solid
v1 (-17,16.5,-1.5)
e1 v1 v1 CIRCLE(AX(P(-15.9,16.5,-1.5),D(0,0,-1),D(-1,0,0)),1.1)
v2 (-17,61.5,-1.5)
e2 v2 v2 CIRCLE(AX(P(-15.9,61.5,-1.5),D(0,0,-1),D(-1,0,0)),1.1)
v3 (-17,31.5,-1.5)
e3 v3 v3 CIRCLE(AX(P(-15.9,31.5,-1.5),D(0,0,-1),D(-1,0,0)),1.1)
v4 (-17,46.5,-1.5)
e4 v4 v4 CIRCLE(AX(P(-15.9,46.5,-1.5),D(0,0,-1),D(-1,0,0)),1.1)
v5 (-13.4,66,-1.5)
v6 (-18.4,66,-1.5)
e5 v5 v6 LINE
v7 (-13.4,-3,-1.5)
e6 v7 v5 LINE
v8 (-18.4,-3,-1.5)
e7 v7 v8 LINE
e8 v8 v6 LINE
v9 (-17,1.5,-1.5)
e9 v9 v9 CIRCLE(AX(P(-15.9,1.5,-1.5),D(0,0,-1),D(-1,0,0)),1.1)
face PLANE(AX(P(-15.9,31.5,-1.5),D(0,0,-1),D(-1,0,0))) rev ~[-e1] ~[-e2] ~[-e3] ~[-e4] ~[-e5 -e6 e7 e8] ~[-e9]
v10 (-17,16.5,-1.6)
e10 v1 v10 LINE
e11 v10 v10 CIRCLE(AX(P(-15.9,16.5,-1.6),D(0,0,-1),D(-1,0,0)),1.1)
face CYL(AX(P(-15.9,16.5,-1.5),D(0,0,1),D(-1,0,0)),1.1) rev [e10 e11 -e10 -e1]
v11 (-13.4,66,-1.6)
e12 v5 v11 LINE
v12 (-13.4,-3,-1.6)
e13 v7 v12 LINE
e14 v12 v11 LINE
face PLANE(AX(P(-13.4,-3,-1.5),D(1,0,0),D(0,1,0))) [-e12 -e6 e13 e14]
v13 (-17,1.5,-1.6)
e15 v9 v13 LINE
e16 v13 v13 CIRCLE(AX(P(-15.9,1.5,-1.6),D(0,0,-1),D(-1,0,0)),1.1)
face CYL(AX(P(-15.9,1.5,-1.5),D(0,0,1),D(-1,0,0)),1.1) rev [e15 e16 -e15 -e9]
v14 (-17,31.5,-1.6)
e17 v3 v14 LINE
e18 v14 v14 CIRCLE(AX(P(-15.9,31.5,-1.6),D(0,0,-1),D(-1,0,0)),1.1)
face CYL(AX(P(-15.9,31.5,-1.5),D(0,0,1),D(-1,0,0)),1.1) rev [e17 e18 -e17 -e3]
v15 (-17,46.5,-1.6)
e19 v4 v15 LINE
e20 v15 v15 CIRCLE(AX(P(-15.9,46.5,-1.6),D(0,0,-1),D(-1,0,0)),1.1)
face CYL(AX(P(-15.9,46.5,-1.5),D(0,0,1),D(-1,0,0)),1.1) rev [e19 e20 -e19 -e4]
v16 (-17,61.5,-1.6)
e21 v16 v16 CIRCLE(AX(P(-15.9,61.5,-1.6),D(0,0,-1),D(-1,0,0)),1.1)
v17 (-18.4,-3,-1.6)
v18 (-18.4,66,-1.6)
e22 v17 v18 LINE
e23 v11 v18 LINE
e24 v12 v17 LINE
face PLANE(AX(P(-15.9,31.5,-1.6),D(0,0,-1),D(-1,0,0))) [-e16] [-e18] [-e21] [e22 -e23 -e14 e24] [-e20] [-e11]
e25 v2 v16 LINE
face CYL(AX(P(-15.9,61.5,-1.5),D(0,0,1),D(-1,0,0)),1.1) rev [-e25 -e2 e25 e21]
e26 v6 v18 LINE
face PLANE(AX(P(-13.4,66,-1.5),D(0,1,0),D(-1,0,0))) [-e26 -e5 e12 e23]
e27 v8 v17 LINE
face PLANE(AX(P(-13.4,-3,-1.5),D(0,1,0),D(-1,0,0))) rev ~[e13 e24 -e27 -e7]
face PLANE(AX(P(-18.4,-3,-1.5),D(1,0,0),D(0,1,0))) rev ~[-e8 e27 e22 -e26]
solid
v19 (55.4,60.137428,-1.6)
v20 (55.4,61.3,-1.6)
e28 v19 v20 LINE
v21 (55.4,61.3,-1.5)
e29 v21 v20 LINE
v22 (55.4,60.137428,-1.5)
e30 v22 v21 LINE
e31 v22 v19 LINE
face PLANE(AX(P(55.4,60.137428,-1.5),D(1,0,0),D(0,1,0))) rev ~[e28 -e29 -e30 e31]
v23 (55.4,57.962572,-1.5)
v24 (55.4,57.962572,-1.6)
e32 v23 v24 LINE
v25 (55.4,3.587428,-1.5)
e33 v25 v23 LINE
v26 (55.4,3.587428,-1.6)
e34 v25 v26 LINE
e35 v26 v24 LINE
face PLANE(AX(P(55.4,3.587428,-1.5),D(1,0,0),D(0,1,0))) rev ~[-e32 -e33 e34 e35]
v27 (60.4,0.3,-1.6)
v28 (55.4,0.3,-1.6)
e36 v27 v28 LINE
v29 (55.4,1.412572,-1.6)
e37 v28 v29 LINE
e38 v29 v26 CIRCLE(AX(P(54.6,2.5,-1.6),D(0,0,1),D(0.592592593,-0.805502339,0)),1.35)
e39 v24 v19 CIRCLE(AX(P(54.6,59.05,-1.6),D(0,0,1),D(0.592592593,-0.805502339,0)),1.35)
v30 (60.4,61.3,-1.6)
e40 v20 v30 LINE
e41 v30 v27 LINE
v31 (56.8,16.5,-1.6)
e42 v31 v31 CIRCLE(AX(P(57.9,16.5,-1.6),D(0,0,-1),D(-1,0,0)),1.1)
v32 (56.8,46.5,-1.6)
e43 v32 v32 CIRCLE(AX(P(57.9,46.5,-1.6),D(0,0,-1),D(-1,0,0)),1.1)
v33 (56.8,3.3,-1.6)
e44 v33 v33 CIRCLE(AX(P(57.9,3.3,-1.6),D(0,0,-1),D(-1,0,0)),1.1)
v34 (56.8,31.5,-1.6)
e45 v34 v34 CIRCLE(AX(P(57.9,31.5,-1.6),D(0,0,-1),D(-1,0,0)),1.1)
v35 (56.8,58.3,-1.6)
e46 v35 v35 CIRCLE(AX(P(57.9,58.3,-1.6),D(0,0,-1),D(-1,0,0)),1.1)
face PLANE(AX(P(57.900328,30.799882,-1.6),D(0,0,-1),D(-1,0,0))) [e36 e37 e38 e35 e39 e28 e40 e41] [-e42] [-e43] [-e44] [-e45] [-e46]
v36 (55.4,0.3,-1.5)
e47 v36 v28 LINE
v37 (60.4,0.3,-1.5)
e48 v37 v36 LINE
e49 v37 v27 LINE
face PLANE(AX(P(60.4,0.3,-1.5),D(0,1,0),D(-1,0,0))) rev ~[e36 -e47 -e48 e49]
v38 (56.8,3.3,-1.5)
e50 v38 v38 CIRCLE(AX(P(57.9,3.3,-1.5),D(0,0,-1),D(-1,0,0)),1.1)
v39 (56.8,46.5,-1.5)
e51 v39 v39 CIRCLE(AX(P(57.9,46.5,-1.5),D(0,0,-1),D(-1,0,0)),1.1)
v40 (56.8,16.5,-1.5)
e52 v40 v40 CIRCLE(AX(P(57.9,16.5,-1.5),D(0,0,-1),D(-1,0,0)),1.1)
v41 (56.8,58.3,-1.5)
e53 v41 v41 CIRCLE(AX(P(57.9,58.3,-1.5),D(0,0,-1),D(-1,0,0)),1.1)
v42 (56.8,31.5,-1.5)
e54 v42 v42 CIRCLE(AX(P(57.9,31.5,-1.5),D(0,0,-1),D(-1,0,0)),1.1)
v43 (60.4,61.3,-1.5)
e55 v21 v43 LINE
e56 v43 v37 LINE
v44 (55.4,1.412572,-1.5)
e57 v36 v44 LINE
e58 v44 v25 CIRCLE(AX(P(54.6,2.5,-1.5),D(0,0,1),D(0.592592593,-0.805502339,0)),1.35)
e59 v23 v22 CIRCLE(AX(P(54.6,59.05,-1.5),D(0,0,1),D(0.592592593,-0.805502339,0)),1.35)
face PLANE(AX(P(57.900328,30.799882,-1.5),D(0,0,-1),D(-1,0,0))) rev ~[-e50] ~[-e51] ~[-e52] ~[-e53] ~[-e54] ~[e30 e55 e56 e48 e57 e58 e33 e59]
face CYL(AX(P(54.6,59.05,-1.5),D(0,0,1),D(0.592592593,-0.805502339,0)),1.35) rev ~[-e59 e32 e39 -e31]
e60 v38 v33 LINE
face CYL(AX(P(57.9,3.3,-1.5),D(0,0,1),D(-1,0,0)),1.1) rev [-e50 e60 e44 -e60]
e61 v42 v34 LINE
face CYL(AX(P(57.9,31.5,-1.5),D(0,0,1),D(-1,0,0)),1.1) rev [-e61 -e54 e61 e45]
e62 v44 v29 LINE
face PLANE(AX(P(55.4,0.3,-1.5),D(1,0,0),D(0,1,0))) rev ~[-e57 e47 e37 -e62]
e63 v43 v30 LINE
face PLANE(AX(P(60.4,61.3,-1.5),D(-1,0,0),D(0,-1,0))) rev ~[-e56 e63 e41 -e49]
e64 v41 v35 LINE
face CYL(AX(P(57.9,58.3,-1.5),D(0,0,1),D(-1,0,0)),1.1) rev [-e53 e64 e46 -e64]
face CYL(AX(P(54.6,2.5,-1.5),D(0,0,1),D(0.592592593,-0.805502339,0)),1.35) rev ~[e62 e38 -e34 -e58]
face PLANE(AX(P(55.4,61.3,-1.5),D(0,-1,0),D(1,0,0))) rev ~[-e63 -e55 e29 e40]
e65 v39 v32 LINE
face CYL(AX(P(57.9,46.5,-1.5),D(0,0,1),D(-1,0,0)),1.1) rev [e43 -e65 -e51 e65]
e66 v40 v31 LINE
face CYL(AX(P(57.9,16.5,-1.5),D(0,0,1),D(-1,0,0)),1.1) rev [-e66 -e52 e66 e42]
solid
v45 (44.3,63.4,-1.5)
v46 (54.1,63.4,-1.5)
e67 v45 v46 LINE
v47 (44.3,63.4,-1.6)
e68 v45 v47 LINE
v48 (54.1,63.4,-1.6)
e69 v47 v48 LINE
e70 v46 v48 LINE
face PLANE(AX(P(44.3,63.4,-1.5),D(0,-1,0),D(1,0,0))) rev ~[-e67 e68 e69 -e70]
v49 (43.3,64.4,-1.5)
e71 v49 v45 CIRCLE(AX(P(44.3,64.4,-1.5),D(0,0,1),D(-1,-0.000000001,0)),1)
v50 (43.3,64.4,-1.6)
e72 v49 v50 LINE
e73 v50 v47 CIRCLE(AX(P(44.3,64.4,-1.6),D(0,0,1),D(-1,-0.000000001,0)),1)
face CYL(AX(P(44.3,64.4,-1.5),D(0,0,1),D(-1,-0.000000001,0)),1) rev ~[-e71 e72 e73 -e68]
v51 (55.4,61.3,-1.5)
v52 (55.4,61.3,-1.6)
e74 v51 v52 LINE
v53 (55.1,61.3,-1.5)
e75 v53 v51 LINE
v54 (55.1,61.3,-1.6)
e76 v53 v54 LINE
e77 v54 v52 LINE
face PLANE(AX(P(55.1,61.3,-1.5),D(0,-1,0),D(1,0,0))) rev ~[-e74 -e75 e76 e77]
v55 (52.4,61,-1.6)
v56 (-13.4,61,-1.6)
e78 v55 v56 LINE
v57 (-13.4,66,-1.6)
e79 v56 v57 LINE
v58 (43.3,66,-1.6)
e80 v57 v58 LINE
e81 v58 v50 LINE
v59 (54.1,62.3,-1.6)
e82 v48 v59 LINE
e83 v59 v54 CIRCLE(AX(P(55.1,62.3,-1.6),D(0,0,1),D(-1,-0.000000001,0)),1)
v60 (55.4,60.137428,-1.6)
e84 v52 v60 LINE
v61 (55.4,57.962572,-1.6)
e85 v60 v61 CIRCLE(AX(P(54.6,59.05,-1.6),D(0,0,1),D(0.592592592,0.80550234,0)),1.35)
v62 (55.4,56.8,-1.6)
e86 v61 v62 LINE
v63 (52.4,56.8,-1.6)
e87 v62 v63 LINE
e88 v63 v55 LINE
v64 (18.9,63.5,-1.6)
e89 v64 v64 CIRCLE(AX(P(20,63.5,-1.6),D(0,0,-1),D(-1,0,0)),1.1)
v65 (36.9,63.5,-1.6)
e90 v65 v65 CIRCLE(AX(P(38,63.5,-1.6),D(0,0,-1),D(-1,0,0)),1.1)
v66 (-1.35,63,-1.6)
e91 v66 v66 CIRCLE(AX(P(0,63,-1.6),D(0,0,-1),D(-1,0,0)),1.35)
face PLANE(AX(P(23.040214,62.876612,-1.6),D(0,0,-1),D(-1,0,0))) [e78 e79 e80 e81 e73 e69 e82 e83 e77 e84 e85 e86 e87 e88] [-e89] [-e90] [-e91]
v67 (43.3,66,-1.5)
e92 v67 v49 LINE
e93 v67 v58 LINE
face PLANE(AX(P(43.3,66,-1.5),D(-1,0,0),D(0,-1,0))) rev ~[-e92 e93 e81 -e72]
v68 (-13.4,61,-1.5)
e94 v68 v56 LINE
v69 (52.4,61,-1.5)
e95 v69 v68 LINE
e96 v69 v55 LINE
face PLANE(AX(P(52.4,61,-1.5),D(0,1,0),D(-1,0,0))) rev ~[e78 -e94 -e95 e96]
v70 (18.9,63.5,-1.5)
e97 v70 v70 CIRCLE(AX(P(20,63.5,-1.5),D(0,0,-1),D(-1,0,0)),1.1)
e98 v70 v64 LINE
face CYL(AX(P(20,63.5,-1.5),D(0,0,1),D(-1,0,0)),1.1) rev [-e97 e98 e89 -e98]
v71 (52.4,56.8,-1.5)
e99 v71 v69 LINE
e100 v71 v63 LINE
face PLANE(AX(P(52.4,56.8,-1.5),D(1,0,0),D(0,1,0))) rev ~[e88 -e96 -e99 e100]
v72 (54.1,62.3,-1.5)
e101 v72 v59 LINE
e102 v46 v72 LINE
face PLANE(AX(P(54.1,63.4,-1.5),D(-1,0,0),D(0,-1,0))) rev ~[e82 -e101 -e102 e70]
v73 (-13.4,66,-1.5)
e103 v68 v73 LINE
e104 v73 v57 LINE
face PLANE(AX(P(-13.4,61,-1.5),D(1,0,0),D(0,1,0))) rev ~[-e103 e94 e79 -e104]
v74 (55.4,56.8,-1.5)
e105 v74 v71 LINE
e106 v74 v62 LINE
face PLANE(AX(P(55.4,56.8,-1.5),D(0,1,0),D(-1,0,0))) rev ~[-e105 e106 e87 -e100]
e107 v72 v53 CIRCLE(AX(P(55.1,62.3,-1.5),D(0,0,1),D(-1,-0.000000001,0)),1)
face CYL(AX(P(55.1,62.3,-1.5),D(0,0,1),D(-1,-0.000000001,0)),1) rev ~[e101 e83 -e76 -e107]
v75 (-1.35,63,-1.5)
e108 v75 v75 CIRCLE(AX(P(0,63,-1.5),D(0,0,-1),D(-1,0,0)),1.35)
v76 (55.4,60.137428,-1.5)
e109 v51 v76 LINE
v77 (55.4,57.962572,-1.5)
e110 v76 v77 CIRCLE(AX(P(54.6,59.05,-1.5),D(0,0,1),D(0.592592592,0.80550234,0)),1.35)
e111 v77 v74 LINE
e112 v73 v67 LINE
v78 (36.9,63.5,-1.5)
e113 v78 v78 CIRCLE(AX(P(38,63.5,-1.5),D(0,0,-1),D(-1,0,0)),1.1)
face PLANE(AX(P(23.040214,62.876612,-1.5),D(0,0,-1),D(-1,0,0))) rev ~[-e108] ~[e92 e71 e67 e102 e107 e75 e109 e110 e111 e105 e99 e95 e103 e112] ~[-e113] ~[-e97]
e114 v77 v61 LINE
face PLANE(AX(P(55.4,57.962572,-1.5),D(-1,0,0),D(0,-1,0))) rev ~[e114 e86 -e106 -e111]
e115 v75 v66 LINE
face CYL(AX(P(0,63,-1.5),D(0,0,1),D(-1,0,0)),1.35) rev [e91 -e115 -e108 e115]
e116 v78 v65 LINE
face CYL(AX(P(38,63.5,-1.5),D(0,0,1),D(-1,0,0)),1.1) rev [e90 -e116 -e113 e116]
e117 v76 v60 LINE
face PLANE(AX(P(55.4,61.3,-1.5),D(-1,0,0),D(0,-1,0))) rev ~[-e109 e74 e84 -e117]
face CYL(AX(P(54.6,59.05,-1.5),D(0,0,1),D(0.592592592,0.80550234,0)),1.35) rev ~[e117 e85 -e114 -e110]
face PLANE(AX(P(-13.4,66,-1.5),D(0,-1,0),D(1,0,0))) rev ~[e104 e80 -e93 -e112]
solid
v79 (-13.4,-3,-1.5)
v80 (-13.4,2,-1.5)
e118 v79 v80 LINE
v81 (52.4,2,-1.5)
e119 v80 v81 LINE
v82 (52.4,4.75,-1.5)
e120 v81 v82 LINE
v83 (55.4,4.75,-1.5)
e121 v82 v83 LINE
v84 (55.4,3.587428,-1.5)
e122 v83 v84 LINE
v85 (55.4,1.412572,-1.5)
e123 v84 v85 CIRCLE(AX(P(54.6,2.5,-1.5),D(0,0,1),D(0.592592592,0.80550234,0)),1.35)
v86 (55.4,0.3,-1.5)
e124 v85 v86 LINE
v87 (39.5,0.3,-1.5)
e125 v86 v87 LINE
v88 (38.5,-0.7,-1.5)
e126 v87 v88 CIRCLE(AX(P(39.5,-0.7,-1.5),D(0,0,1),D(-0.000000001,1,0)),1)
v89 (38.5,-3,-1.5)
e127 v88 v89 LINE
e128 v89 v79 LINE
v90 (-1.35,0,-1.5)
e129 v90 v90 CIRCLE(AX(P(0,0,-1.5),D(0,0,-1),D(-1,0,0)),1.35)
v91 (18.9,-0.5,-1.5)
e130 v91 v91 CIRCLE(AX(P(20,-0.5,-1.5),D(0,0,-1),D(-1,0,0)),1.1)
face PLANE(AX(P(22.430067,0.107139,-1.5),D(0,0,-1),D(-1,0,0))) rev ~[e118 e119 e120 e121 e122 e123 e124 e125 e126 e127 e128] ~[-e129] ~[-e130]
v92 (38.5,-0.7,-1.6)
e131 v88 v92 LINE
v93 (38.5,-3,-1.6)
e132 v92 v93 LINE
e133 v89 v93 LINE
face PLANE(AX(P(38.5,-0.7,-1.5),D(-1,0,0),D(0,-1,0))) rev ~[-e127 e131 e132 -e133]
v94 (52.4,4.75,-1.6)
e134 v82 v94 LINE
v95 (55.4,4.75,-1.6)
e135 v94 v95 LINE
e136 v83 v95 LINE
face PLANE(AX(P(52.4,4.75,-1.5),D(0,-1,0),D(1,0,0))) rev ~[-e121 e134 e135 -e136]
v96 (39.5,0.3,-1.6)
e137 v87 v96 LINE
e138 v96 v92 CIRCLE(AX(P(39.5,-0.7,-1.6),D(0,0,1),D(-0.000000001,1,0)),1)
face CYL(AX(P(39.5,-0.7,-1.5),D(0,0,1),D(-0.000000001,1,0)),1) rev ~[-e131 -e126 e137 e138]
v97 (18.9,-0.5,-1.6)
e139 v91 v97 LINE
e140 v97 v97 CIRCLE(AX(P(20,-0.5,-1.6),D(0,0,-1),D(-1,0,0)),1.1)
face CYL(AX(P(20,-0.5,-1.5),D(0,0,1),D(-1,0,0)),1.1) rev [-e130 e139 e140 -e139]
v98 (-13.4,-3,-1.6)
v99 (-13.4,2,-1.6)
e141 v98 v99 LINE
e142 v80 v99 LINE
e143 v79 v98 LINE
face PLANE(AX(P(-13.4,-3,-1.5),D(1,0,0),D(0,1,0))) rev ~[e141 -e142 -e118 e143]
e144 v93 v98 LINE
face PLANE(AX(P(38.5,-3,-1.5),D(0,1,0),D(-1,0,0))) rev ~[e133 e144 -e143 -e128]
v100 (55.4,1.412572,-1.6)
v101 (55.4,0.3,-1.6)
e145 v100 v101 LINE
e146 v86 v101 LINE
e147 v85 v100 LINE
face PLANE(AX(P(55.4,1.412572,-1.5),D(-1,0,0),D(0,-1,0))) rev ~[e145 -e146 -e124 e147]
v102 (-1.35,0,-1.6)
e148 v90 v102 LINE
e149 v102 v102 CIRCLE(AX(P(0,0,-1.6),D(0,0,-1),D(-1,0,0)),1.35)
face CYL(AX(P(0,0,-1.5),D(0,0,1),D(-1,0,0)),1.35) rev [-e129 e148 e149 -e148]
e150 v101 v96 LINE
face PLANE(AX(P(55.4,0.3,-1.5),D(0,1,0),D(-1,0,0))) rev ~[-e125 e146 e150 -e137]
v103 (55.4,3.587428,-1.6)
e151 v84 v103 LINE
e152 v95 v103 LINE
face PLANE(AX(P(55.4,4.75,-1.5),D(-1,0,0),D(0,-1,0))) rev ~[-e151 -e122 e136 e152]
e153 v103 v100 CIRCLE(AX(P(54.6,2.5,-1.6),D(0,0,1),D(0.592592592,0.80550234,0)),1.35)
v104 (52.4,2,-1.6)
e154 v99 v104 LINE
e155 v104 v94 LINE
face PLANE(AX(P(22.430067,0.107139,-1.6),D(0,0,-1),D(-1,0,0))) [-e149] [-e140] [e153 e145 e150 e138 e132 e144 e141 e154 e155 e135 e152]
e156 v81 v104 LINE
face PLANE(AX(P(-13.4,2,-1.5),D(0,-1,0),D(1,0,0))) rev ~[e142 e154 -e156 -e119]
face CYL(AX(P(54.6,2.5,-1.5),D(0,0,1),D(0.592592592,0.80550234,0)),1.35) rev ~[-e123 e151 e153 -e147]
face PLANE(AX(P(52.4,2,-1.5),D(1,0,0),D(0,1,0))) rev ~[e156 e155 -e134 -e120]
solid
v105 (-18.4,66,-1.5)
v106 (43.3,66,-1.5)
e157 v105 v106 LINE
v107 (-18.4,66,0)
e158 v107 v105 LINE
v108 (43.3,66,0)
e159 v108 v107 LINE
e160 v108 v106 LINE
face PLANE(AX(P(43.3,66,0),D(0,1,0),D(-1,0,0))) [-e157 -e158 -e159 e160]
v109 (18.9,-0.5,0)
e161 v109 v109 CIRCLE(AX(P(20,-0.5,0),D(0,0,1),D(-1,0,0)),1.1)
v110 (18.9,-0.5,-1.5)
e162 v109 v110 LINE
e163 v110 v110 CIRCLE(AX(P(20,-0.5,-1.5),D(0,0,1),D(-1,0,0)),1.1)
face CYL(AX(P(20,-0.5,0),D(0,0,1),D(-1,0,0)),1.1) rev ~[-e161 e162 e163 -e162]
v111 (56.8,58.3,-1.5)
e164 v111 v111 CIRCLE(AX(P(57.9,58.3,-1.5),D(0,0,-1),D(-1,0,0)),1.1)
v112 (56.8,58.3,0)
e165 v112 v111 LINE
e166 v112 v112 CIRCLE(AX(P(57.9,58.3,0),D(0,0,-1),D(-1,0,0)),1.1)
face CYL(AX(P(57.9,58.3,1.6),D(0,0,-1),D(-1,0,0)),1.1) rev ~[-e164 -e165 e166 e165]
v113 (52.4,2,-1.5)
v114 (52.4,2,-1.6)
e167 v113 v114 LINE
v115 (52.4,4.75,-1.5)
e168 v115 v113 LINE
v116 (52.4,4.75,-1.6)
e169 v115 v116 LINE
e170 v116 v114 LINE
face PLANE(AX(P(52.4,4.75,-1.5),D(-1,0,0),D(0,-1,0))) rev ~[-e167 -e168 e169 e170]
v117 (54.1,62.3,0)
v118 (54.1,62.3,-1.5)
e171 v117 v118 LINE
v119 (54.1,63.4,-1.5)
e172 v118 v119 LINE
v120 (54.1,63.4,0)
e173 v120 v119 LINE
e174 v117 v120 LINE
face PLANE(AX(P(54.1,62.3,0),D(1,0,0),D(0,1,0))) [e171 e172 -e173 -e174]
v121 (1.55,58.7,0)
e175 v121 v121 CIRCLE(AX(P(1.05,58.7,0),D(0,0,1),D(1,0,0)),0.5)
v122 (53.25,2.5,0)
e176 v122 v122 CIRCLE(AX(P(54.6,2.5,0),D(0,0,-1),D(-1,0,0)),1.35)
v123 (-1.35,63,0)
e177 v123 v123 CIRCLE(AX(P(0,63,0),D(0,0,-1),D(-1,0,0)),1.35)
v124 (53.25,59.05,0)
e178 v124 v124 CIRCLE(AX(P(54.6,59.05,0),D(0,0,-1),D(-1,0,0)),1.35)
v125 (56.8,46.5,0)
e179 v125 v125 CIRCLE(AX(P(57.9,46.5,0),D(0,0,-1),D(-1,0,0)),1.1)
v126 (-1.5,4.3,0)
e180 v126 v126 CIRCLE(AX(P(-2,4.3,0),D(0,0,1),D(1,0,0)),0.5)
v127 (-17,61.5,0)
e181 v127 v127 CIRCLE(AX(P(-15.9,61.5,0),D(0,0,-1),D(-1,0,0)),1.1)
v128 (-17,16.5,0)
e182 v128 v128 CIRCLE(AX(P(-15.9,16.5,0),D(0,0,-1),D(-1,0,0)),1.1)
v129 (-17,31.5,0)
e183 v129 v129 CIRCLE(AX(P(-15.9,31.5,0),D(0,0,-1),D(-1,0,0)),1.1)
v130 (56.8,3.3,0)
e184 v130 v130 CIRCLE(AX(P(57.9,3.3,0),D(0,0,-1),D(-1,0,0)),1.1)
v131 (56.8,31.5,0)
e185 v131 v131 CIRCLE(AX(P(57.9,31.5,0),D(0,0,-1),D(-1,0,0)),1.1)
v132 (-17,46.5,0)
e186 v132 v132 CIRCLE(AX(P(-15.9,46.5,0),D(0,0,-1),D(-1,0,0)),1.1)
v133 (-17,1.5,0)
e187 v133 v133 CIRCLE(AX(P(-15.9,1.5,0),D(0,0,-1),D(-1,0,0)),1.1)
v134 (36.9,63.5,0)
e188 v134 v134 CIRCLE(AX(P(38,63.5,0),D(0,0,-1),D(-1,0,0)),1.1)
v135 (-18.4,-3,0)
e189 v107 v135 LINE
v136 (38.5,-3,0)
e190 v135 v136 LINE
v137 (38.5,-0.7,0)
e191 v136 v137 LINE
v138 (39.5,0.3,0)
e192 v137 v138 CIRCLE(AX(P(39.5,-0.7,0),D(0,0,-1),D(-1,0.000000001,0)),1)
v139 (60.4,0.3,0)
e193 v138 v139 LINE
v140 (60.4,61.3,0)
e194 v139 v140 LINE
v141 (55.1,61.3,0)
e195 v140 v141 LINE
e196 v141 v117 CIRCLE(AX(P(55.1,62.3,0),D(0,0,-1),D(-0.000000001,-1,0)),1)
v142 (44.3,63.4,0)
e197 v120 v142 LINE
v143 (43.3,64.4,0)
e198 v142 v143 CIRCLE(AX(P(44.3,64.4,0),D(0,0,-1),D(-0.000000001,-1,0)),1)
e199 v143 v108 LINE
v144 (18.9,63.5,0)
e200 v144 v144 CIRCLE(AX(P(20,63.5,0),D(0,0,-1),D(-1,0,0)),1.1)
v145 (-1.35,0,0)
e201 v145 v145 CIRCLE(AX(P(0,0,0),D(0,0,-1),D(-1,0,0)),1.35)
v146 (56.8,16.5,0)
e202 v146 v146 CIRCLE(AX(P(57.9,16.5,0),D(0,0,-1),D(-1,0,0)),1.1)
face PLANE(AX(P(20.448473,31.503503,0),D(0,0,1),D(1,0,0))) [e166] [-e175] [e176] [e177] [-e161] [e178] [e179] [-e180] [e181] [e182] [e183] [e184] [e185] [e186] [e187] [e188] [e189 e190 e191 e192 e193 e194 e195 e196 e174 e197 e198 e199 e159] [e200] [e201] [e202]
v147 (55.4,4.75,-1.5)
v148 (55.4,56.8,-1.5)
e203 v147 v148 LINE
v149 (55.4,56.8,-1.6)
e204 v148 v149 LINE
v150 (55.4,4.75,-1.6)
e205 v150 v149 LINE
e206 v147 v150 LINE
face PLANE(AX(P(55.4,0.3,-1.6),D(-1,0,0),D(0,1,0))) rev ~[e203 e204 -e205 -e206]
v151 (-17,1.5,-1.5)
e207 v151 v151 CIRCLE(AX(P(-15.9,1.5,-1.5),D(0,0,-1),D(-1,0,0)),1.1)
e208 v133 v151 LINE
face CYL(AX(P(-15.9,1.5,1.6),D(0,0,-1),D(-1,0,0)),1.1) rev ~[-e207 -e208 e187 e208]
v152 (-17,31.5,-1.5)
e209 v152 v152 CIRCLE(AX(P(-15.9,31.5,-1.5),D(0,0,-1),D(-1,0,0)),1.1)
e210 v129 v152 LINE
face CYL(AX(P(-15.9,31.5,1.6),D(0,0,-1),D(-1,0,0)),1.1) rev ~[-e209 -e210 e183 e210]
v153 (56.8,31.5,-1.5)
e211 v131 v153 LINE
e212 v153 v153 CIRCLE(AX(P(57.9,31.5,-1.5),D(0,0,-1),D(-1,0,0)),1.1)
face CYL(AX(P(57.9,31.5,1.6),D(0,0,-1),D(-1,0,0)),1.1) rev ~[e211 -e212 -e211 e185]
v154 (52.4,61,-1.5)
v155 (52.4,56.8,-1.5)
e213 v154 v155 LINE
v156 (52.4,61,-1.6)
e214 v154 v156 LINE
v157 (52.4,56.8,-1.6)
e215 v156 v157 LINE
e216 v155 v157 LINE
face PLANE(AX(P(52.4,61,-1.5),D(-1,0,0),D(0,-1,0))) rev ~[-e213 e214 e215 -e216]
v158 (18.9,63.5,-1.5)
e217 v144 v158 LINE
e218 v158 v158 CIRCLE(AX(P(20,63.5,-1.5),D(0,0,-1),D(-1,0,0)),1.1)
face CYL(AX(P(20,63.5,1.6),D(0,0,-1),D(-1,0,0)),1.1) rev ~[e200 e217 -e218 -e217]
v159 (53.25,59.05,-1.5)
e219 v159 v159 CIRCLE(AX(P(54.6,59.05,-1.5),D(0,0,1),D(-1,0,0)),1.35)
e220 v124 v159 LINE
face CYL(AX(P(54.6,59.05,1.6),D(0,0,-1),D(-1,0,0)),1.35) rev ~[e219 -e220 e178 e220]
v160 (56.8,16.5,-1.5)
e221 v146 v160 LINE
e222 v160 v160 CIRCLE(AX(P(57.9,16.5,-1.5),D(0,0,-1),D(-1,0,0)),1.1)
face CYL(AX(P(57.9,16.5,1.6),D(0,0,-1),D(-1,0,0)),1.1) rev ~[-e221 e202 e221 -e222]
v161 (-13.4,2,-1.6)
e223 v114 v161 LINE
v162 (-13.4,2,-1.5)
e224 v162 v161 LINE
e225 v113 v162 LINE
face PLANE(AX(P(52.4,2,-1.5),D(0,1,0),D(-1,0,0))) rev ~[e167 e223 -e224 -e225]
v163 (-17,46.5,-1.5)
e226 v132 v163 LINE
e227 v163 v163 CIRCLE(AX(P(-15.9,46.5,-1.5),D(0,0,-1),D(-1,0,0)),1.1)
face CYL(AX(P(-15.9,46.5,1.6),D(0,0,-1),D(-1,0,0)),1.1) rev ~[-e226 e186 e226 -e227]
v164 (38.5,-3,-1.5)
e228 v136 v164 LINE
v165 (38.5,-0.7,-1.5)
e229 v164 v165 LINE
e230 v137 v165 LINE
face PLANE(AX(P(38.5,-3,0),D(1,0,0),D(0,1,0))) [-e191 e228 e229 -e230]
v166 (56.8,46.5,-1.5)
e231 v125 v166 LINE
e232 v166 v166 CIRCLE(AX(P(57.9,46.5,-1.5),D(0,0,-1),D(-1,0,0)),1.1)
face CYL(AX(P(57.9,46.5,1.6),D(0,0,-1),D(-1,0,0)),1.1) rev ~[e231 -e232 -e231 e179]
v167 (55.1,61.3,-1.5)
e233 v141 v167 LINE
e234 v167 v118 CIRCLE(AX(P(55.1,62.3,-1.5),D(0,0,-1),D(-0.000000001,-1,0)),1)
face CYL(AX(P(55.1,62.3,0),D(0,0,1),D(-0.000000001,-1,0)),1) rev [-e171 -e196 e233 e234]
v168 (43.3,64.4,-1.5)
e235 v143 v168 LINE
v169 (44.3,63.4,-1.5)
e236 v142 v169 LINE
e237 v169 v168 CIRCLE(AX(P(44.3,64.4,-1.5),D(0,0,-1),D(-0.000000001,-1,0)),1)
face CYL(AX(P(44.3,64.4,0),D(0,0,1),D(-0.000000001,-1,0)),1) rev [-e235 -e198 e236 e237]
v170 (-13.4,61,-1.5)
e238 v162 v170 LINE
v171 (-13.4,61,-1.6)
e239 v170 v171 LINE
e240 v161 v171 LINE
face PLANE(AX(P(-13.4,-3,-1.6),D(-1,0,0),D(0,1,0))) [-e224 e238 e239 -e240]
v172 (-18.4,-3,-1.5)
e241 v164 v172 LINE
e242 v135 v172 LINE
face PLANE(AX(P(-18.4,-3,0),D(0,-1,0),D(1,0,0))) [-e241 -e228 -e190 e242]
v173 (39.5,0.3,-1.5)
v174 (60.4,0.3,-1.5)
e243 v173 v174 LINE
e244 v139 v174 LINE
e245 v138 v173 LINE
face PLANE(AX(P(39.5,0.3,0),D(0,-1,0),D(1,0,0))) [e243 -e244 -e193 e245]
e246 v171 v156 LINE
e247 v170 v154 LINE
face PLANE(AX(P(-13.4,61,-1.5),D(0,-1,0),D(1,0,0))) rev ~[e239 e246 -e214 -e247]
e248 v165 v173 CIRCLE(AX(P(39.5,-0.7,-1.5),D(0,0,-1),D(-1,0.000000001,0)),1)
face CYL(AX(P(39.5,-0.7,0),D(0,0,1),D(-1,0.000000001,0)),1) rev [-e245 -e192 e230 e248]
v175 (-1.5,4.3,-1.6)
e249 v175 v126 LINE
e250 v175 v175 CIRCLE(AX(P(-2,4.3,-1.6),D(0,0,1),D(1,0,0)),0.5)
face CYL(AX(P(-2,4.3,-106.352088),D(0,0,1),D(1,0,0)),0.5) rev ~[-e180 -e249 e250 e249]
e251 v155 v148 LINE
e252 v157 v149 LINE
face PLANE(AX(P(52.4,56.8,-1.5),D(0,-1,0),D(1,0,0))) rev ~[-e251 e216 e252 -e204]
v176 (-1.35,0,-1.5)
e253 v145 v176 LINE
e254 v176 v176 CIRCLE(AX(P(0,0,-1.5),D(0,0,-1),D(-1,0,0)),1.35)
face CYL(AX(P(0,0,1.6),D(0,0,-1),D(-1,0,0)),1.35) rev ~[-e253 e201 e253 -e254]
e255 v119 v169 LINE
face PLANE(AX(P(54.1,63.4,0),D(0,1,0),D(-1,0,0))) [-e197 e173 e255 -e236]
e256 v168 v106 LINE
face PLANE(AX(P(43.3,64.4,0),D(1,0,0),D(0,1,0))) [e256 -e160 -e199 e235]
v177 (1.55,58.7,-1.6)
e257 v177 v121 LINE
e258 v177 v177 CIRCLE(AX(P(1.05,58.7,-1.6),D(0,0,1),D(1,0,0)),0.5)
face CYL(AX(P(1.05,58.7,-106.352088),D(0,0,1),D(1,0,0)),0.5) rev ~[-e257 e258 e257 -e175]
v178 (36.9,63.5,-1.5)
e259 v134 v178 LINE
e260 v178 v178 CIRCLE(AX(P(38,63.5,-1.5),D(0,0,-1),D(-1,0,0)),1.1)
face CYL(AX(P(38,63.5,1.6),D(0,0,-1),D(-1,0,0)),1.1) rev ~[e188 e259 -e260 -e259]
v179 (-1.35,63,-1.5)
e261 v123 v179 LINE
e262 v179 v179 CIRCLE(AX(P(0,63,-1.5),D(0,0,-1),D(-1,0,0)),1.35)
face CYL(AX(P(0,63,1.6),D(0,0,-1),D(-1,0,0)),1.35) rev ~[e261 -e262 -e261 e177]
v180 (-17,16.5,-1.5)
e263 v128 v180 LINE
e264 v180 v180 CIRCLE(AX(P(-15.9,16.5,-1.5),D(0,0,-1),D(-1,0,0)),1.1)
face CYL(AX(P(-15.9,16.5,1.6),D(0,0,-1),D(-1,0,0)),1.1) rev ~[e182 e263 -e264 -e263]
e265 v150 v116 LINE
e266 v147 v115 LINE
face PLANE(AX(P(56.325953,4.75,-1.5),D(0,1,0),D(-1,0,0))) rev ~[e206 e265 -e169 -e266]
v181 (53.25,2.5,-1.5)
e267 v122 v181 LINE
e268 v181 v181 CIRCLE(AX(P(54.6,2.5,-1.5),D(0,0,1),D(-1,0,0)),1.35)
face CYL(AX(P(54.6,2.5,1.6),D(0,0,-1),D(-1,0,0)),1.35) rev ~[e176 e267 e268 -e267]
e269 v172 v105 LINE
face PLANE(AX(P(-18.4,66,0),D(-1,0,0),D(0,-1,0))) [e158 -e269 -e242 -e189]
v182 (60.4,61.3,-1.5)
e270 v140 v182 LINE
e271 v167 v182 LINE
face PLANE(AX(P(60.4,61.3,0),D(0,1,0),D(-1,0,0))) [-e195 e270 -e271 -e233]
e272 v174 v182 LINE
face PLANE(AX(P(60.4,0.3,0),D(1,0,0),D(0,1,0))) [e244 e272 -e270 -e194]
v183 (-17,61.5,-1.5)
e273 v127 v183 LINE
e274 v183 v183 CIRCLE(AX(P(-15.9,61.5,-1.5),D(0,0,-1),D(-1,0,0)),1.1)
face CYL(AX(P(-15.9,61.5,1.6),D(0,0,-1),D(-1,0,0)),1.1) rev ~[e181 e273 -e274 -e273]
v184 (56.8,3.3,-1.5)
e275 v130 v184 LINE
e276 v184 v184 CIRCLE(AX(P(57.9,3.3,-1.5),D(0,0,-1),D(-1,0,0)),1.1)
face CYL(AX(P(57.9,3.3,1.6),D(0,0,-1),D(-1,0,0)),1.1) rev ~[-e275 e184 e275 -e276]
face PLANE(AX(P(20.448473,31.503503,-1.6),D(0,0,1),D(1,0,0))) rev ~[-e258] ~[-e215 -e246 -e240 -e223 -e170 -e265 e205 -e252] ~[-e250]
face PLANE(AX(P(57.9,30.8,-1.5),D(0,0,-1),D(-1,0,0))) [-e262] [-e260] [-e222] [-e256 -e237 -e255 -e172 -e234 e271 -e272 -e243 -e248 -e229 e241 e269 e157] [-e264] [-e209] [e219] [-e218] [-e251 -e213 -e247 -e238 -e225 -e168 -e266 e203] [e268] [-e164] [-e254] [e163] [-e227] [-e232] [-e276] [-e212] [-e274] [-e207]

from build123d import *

# Parameters (mm, degrees)
SKETCH1_R                  = 1.1
BASE_EXTRUDE_DEPTH         = 1.6
M2_MTG_D                   = 2.2
M2_MTG_DEPTH               = 1.6
M2_MTG_TIP                 = 0.660946681
M2_5_CLEARANCE_HOLE1_D     = 2.7
M2_5_CLEARANCE_HOLE1_DEPTH = 1.6
M2_5_CLEARANCE_HOLE1_TIP   = 0.811161836
CONNECTOR_REF_D            = 1
KEEPOUT_W                  = 5
KEEPOUT_H                  = 61
KEEPOUT_H_2                = 69
CUT_EXTRUDE1_DEPTH         = 0.1
SKETCH11_R                 = 1.1
BOSS_EXTRUDE1_DEPTH        = 0.1
SKETCH11_W                 = 5
SKETCH11_H                 = 69
BOSS_EXTRUDE1_2_DEPTH      = 0.1
CUT_EXTRUDE2_START         = -0.1
CUT_EXTRUDE2_DEPTH         = 0.1
SKETCH12_R                 = 1.1
SKETCH12_R_2               = 1.35
BOSS_EXTRUDE2_DEPTH        = 0.1
BOSS_EXTRUDE2_2_DEPTH      = 0.1


with BuildPart() as part:
    # Sketch1 → BASE EXTRUDE (new body)
    with BuildSketch(Plane.XY):
        with BuildLine():
            Line((39.5, 0.3), (60.4, 0.3))
            Line((60.4, 0.3), (60.4, 61.3))
            Line((60.4, 61.3), (55.1, 61.3))
            ThreePointArc((55.1, 61.3), (54.392893219, 61.592893219), (54.1, 62.3))
            Line((54.1, 62.3), (54.1, 63.4))
            Line((54.1, 63.4), (44.3, 63.4))
            ThreePointArc((44.3, 63.4), (43.592893219, 63.692893219), (43.3, 64.4))
            Line((43.3, 64.4), (43.3, 66))
            Line((43.3, 66), (-18.4, 66))
            Line((-18.4, 66), (-18.4, -3))
            Line((-18.4, -3), (38.5, -3))
            Line((38.5, -3), (38.5, -0.7))
            ThreePointArc((38.5, -0.7), (38.792893219, 0.007106781), (39.5, 0.3))
        make_face()
        with Locations(Location((20, -0.5, 0), (0, 0, 180))):
            Circle(SKETCH1_R, mode=Mode.SUBTRACT)
    extrude(amount=-BASE_EXTRUDE_DEPTH)

    # M2 MTG
    with Locations(Plane(origin=(-15.9, 31.5, 0), x_dir=(1, 0, 0), z_dir=(0, 0, 1))):
        with Locations((0, 0), (0, -15), (0, -30), (0, 15), (0, 30), (35.9, 32), (53.9, 32), (73.8, 26.8), (73.8, 15), (73.8, 0), (73.8, -15), (73.8, -28.2), (35.9, -32)):
            Hole(M2_MTG_D / 2, depth=M2_MTG_DEPTH)
            with Locations((0, 0, -(M2_MTG_DEPTH + M2_MTG_TIP / 2))):  # 118° drill point
                Cone(0, M2_MTG_D / 2, M2_MTG_TIP, mode=Mode.SUBTRACT)

    # M2.5 Clearance Hole1
    with Locations(Plane(origin=(54.6, 2.5, 0), x_dir=(1, 0, 0), z_dir=(0, 0, 1))):
        with Locations((0, 0), (-54.6, -2.5), (-54.6, 60.5), (0, 56.55)):
            Hole(M2_5_CLEARANCE_HOLE1_D / 2, depth=M2_5_CLEARANCE_HOLE1_DEPTH)
            with Locations((0, 0, -(M2_5_CLEARANCE_HOLE1_DEPTH + M2_5_CLEARANCE_HOLE1_TIP / 2))):  # 118° drill point
                Cone(0, M2_5_CLEARANCE_HOLE1_D / 2, M2_5_CLEARANCE_HOLE1_TIP, mode=Mode.SUBTRACT)

    # CONNECTOR REF (through all)
    with Locations(Plane(origin=(0, 0, -1.6), x_dir=(-1, 0, 0), z_dir=(0, 0, -1))):
        with Locations((2, 4.3), (-1.05, 58.7)):
            Hole(CONNECTOR_REF_D / 2)

    # KEEPOUT → Cut-Extrude1 (cut)
    with BuildSketch(Plane(origin=(0, 0, -1.6), x_dir=(-1, 0, 0), z_dir=(0, 0, -1))):
        with Locations((-57.9, 30.8)):
            Rectangle(KEEPOUT_W, KEEPOUT_H)
        with Locations((15.9, 31.5)):
            Rectangle(KEEPOUT_W, KEEPOUT_H_2)
    extrude(amount=-CUT_EXTRUDE1_DEPTH, mode=Mode.SUBTRACT)

    # KEEPOUT OPT → Cut-Extrude2 (cut)
    with BuildSketch(Plane(origin=(0, 0, -1.6), x_dir=(-1, 0, 0), z_dir=(0, 0, -1)).offset(CUT_EXTRUDE2_START)):
        with BuildLine():
            Line((13.4, 61), (-52.4, 61))
            Line((-52.4, 61), (-52.4, 56.8))
            Line((-52.4, 56.8), (-55.4, 56.8))
            Line((-55.4, 56.8), (-55.4, 61.3))
            Line((-55.4, 61.3), (-55.1, 61.3))
            ThreePointArc((-55.1, 61.3), (-54.392893219, 61.592893219), (-54.1, 62.3))
            Line((-54.1, 62.3), (-54.1, 63.4))
            Line((-54.1, 63.4), (-44.3, 63.4))
            ThreePointArc((-44.3, 63.4), (-43.592893219, 63.692893219), (-43.3, 64.4))
            Line((-43.3, 64.4), (-43.3, 66))
            Line((-43.3, 66), (13.4, 66))
            Line((13.4, 66), (13.4, 61))
        make_face()
        with BuildLine():
            Line((13.4, -3), (-38.5, -3))
            Line((-38.5, -3), (-38.5, -0.7))
            ThreePointArc((-38.5, -0.7), (-38.792893219, 0.007106781), (-39.5, 0.3))
            Line((-39.5, 0.3), (-56.32595347, 0.3))
            Line((-56.32595347, 0.3), (-56.32595347, 4.75))
            Line((-56.32595347, 4.75), (-52.4, 4.75))
            Line((-52.4, 4.75), (-52.4, 2))
            Line((-52.4, 2), (13.4, 2))
            Line((13.4, 2), (13.4, -3))
        make_face()
    extrude(amount=CUT_EXTRUDE2_DEPTH, mode=Mode.SUBTRACT)


with BuildPart() as body_2:
    # Sketch11 → Boss-Extrude1 (new body)
    with BuildSketch(Plane(origin=(0, 0, -1.5), x_dir=(-1, 0, 0), z_dir=(0, 0, -1))):
        with BuildLine():
            Line((-55.4, 60.137428159), (-55.4, 61.3))
            Line((-55.4, 61.3), (-60.4, 61.3))
            Line((-60.4, 61.3), (-60.4, 0.3))
            Line((-60.4, 0.3), (-55.4, 0.3))
            Line((-55.4, 0.3), (-55.4, 1.412571841))
            ThreePointArc((-55.4, 1.412571841), (-55.95, 2.5), (-55.4, 3.587428159))
            Line((-55.4, 3.587428159), (-55.4, 57.962571841))
            ThreePointArc((-55.4, 57.962571841), (-55.95, 59.05), (-55.4, 60.137428159))
        make_face()
        with Locations((-57.9, 58.3)):
            Circle(SKETCH11_R, mode=Mode.SUBTRACT)
        with Locations((-57.9, 46.5)):
            Circle(SKETCH11_R, mode=Mode.SUBTRACT)
        with Locations((-57.9, 31.5)):
            Circle(SKETCH11_R, mode=Mode.SUBTRACT)
        with Locations((-57.9, 16.5)):
            Circle(SKETCH11_R, mode=Mode.SUBTRACT)
        with Locations((-57.9, 3.3)):
            Circle(SKETCH11_R, mode=Mode.SUBTRACT)
    extrude(amount=BOSS_EXTRUDE1_DEPTH)


with BuildPart() as body_3:
    # Sketch11 → Boss-Extrude1 2 (new body)
    with BuildSketch(Plane(origin=(0, 0, -1.5), x_dir=(-1, 0, 0), z_dir=(0, 0, -1))):
        with Locations((15.9, 31.5)):
            Rectangle(SKETCH11_W, SKETCH11_H)
        with Locations((15.9, 1.5)):
            Circle(SKETCH11_R, mode=Mode.SUBTRACT)
        with Locations((15.9, 16.5)):
            Circle(SKETCH11_R, mode=Mode.SUBTRACT)
        with Locations((15.9, 31.5)):
            Circle(SKETCH11_R, mode=Mode.SUBTRACT)
        with Locations((15.9, 46.5)):
            Circle(SKETCH11_R, mode=Mode.SUBTRACT)
        with Locations((15.9, 61.5)):
            Circle(SKETCH11_R, mode=Mode.SUBTRACT)
    extrude(amount=BOSS_EXTRUDE1_2_DEPTH)


with BuildPart() as body_4:
    # Sketch12 → Boss-Extrude2 (new body)
    with BuildSketch(Plane(origin=(0, 0, -1.5), x_dir=(-1, 0, 0), z_dir=(0, 0, -1))):
        with BuildLine():
            Line((-55.4, 61.3), (-55.4, 60.137428159))
            ThreePointArc((-55.4, 60.137428159), (-53.25, 59.05), (-55.4, 57.962571841))
            Line((-55.4, 57.962571841), (-55.4, 56.8))
            Line((-55.4, 56.8), (-52.4, 56.8))
            Line((-52.4, 56.8), (-52.4, 61))
            Line((-52.4, 61), (13.4, 61))
            Line((13.4, 61), (13.4, 66))
            Line((13.4, 66), (-43.3, 66))
            Line((-43.3, 66), (-43.3, 64.4))
            ThreePointArc((-43.3, 64.4), (-43.592893219, 63.692893219), (-44.3, 63.4))
            Line((-44.3, 63.4), (-54.1, 63.4))
            Line((-54.1, 63.4), (-54.1, 62.3))
            ThreePointArc((-54.1, 62.3), (-54.392893219, 61.592893219), (-55.1, 61.3))
            Line((-55.1, 61.3), (-55.4, 61.3))
        make_face()
        with Locations((-38, 63.5)):
            Circle(SKETCH12_R, mode=Mode.SUBTRACT)
        with Locations((-20, 63.5)):
            Circle(SKETCH12_R, mode=Mode.SUBTRACT)
        with Locations((0, 63)):
            Circle(SKETCH12_R_2, mode=Mode.SUBTRACT)
    extrude(amount=BOSS_EXTRUDE2_DEPTH)


with BuildPart() as body_5:
    # Sketch12 → Boss-Extrude2 2 (new body)
    with BuildSketch(Plane(origin=(0, 0, -1.5), x_dir=(-1, 0, 0), z_dir=(0, 0, -1))):
        with BuildLine():
            Line((-52.4, 2), (-52.4, 4.75))
            Line((-52.4, 4.75), (-55.4, 4.75))
            Line((-55.4, 4.75), (-55.4, 3.587428159))
            ThreePointArc((-55.4, 3.587428159), (-53.25, 2.5), (-55.4, 1.412571841))
            Line((-55.4, 1.412571841), (-55.4, 0.3))
            Line((-55.4, 0.3), (-39.5, 0.3))
            ThreePointArc((-39.5, 0.3), (-38.792893219, 0.007106781), (-38.5, -0.7))
            Line((-38.5, -0.7), (-38.5, -3))
            Line((-38.5, -3), (13.4, -3))
            Line((13.4, -3), (13.4, 2))
            Line((13.4, 2), (-52.4, 2))
        make_face()
        with Locations((-20, -0.5)):
            Circle(SKETCH12_R, mode=Mode.SUBTRACT)
        Circle(SKETCH12_R_2, mode=Mode.SUBTRACT)
    extrude(amount=BOSS_EXTRUDE2_2_DEPTH)


solid = Compound([part.part, body_2.part, body_3.part, body_4.part, body_5.part])
